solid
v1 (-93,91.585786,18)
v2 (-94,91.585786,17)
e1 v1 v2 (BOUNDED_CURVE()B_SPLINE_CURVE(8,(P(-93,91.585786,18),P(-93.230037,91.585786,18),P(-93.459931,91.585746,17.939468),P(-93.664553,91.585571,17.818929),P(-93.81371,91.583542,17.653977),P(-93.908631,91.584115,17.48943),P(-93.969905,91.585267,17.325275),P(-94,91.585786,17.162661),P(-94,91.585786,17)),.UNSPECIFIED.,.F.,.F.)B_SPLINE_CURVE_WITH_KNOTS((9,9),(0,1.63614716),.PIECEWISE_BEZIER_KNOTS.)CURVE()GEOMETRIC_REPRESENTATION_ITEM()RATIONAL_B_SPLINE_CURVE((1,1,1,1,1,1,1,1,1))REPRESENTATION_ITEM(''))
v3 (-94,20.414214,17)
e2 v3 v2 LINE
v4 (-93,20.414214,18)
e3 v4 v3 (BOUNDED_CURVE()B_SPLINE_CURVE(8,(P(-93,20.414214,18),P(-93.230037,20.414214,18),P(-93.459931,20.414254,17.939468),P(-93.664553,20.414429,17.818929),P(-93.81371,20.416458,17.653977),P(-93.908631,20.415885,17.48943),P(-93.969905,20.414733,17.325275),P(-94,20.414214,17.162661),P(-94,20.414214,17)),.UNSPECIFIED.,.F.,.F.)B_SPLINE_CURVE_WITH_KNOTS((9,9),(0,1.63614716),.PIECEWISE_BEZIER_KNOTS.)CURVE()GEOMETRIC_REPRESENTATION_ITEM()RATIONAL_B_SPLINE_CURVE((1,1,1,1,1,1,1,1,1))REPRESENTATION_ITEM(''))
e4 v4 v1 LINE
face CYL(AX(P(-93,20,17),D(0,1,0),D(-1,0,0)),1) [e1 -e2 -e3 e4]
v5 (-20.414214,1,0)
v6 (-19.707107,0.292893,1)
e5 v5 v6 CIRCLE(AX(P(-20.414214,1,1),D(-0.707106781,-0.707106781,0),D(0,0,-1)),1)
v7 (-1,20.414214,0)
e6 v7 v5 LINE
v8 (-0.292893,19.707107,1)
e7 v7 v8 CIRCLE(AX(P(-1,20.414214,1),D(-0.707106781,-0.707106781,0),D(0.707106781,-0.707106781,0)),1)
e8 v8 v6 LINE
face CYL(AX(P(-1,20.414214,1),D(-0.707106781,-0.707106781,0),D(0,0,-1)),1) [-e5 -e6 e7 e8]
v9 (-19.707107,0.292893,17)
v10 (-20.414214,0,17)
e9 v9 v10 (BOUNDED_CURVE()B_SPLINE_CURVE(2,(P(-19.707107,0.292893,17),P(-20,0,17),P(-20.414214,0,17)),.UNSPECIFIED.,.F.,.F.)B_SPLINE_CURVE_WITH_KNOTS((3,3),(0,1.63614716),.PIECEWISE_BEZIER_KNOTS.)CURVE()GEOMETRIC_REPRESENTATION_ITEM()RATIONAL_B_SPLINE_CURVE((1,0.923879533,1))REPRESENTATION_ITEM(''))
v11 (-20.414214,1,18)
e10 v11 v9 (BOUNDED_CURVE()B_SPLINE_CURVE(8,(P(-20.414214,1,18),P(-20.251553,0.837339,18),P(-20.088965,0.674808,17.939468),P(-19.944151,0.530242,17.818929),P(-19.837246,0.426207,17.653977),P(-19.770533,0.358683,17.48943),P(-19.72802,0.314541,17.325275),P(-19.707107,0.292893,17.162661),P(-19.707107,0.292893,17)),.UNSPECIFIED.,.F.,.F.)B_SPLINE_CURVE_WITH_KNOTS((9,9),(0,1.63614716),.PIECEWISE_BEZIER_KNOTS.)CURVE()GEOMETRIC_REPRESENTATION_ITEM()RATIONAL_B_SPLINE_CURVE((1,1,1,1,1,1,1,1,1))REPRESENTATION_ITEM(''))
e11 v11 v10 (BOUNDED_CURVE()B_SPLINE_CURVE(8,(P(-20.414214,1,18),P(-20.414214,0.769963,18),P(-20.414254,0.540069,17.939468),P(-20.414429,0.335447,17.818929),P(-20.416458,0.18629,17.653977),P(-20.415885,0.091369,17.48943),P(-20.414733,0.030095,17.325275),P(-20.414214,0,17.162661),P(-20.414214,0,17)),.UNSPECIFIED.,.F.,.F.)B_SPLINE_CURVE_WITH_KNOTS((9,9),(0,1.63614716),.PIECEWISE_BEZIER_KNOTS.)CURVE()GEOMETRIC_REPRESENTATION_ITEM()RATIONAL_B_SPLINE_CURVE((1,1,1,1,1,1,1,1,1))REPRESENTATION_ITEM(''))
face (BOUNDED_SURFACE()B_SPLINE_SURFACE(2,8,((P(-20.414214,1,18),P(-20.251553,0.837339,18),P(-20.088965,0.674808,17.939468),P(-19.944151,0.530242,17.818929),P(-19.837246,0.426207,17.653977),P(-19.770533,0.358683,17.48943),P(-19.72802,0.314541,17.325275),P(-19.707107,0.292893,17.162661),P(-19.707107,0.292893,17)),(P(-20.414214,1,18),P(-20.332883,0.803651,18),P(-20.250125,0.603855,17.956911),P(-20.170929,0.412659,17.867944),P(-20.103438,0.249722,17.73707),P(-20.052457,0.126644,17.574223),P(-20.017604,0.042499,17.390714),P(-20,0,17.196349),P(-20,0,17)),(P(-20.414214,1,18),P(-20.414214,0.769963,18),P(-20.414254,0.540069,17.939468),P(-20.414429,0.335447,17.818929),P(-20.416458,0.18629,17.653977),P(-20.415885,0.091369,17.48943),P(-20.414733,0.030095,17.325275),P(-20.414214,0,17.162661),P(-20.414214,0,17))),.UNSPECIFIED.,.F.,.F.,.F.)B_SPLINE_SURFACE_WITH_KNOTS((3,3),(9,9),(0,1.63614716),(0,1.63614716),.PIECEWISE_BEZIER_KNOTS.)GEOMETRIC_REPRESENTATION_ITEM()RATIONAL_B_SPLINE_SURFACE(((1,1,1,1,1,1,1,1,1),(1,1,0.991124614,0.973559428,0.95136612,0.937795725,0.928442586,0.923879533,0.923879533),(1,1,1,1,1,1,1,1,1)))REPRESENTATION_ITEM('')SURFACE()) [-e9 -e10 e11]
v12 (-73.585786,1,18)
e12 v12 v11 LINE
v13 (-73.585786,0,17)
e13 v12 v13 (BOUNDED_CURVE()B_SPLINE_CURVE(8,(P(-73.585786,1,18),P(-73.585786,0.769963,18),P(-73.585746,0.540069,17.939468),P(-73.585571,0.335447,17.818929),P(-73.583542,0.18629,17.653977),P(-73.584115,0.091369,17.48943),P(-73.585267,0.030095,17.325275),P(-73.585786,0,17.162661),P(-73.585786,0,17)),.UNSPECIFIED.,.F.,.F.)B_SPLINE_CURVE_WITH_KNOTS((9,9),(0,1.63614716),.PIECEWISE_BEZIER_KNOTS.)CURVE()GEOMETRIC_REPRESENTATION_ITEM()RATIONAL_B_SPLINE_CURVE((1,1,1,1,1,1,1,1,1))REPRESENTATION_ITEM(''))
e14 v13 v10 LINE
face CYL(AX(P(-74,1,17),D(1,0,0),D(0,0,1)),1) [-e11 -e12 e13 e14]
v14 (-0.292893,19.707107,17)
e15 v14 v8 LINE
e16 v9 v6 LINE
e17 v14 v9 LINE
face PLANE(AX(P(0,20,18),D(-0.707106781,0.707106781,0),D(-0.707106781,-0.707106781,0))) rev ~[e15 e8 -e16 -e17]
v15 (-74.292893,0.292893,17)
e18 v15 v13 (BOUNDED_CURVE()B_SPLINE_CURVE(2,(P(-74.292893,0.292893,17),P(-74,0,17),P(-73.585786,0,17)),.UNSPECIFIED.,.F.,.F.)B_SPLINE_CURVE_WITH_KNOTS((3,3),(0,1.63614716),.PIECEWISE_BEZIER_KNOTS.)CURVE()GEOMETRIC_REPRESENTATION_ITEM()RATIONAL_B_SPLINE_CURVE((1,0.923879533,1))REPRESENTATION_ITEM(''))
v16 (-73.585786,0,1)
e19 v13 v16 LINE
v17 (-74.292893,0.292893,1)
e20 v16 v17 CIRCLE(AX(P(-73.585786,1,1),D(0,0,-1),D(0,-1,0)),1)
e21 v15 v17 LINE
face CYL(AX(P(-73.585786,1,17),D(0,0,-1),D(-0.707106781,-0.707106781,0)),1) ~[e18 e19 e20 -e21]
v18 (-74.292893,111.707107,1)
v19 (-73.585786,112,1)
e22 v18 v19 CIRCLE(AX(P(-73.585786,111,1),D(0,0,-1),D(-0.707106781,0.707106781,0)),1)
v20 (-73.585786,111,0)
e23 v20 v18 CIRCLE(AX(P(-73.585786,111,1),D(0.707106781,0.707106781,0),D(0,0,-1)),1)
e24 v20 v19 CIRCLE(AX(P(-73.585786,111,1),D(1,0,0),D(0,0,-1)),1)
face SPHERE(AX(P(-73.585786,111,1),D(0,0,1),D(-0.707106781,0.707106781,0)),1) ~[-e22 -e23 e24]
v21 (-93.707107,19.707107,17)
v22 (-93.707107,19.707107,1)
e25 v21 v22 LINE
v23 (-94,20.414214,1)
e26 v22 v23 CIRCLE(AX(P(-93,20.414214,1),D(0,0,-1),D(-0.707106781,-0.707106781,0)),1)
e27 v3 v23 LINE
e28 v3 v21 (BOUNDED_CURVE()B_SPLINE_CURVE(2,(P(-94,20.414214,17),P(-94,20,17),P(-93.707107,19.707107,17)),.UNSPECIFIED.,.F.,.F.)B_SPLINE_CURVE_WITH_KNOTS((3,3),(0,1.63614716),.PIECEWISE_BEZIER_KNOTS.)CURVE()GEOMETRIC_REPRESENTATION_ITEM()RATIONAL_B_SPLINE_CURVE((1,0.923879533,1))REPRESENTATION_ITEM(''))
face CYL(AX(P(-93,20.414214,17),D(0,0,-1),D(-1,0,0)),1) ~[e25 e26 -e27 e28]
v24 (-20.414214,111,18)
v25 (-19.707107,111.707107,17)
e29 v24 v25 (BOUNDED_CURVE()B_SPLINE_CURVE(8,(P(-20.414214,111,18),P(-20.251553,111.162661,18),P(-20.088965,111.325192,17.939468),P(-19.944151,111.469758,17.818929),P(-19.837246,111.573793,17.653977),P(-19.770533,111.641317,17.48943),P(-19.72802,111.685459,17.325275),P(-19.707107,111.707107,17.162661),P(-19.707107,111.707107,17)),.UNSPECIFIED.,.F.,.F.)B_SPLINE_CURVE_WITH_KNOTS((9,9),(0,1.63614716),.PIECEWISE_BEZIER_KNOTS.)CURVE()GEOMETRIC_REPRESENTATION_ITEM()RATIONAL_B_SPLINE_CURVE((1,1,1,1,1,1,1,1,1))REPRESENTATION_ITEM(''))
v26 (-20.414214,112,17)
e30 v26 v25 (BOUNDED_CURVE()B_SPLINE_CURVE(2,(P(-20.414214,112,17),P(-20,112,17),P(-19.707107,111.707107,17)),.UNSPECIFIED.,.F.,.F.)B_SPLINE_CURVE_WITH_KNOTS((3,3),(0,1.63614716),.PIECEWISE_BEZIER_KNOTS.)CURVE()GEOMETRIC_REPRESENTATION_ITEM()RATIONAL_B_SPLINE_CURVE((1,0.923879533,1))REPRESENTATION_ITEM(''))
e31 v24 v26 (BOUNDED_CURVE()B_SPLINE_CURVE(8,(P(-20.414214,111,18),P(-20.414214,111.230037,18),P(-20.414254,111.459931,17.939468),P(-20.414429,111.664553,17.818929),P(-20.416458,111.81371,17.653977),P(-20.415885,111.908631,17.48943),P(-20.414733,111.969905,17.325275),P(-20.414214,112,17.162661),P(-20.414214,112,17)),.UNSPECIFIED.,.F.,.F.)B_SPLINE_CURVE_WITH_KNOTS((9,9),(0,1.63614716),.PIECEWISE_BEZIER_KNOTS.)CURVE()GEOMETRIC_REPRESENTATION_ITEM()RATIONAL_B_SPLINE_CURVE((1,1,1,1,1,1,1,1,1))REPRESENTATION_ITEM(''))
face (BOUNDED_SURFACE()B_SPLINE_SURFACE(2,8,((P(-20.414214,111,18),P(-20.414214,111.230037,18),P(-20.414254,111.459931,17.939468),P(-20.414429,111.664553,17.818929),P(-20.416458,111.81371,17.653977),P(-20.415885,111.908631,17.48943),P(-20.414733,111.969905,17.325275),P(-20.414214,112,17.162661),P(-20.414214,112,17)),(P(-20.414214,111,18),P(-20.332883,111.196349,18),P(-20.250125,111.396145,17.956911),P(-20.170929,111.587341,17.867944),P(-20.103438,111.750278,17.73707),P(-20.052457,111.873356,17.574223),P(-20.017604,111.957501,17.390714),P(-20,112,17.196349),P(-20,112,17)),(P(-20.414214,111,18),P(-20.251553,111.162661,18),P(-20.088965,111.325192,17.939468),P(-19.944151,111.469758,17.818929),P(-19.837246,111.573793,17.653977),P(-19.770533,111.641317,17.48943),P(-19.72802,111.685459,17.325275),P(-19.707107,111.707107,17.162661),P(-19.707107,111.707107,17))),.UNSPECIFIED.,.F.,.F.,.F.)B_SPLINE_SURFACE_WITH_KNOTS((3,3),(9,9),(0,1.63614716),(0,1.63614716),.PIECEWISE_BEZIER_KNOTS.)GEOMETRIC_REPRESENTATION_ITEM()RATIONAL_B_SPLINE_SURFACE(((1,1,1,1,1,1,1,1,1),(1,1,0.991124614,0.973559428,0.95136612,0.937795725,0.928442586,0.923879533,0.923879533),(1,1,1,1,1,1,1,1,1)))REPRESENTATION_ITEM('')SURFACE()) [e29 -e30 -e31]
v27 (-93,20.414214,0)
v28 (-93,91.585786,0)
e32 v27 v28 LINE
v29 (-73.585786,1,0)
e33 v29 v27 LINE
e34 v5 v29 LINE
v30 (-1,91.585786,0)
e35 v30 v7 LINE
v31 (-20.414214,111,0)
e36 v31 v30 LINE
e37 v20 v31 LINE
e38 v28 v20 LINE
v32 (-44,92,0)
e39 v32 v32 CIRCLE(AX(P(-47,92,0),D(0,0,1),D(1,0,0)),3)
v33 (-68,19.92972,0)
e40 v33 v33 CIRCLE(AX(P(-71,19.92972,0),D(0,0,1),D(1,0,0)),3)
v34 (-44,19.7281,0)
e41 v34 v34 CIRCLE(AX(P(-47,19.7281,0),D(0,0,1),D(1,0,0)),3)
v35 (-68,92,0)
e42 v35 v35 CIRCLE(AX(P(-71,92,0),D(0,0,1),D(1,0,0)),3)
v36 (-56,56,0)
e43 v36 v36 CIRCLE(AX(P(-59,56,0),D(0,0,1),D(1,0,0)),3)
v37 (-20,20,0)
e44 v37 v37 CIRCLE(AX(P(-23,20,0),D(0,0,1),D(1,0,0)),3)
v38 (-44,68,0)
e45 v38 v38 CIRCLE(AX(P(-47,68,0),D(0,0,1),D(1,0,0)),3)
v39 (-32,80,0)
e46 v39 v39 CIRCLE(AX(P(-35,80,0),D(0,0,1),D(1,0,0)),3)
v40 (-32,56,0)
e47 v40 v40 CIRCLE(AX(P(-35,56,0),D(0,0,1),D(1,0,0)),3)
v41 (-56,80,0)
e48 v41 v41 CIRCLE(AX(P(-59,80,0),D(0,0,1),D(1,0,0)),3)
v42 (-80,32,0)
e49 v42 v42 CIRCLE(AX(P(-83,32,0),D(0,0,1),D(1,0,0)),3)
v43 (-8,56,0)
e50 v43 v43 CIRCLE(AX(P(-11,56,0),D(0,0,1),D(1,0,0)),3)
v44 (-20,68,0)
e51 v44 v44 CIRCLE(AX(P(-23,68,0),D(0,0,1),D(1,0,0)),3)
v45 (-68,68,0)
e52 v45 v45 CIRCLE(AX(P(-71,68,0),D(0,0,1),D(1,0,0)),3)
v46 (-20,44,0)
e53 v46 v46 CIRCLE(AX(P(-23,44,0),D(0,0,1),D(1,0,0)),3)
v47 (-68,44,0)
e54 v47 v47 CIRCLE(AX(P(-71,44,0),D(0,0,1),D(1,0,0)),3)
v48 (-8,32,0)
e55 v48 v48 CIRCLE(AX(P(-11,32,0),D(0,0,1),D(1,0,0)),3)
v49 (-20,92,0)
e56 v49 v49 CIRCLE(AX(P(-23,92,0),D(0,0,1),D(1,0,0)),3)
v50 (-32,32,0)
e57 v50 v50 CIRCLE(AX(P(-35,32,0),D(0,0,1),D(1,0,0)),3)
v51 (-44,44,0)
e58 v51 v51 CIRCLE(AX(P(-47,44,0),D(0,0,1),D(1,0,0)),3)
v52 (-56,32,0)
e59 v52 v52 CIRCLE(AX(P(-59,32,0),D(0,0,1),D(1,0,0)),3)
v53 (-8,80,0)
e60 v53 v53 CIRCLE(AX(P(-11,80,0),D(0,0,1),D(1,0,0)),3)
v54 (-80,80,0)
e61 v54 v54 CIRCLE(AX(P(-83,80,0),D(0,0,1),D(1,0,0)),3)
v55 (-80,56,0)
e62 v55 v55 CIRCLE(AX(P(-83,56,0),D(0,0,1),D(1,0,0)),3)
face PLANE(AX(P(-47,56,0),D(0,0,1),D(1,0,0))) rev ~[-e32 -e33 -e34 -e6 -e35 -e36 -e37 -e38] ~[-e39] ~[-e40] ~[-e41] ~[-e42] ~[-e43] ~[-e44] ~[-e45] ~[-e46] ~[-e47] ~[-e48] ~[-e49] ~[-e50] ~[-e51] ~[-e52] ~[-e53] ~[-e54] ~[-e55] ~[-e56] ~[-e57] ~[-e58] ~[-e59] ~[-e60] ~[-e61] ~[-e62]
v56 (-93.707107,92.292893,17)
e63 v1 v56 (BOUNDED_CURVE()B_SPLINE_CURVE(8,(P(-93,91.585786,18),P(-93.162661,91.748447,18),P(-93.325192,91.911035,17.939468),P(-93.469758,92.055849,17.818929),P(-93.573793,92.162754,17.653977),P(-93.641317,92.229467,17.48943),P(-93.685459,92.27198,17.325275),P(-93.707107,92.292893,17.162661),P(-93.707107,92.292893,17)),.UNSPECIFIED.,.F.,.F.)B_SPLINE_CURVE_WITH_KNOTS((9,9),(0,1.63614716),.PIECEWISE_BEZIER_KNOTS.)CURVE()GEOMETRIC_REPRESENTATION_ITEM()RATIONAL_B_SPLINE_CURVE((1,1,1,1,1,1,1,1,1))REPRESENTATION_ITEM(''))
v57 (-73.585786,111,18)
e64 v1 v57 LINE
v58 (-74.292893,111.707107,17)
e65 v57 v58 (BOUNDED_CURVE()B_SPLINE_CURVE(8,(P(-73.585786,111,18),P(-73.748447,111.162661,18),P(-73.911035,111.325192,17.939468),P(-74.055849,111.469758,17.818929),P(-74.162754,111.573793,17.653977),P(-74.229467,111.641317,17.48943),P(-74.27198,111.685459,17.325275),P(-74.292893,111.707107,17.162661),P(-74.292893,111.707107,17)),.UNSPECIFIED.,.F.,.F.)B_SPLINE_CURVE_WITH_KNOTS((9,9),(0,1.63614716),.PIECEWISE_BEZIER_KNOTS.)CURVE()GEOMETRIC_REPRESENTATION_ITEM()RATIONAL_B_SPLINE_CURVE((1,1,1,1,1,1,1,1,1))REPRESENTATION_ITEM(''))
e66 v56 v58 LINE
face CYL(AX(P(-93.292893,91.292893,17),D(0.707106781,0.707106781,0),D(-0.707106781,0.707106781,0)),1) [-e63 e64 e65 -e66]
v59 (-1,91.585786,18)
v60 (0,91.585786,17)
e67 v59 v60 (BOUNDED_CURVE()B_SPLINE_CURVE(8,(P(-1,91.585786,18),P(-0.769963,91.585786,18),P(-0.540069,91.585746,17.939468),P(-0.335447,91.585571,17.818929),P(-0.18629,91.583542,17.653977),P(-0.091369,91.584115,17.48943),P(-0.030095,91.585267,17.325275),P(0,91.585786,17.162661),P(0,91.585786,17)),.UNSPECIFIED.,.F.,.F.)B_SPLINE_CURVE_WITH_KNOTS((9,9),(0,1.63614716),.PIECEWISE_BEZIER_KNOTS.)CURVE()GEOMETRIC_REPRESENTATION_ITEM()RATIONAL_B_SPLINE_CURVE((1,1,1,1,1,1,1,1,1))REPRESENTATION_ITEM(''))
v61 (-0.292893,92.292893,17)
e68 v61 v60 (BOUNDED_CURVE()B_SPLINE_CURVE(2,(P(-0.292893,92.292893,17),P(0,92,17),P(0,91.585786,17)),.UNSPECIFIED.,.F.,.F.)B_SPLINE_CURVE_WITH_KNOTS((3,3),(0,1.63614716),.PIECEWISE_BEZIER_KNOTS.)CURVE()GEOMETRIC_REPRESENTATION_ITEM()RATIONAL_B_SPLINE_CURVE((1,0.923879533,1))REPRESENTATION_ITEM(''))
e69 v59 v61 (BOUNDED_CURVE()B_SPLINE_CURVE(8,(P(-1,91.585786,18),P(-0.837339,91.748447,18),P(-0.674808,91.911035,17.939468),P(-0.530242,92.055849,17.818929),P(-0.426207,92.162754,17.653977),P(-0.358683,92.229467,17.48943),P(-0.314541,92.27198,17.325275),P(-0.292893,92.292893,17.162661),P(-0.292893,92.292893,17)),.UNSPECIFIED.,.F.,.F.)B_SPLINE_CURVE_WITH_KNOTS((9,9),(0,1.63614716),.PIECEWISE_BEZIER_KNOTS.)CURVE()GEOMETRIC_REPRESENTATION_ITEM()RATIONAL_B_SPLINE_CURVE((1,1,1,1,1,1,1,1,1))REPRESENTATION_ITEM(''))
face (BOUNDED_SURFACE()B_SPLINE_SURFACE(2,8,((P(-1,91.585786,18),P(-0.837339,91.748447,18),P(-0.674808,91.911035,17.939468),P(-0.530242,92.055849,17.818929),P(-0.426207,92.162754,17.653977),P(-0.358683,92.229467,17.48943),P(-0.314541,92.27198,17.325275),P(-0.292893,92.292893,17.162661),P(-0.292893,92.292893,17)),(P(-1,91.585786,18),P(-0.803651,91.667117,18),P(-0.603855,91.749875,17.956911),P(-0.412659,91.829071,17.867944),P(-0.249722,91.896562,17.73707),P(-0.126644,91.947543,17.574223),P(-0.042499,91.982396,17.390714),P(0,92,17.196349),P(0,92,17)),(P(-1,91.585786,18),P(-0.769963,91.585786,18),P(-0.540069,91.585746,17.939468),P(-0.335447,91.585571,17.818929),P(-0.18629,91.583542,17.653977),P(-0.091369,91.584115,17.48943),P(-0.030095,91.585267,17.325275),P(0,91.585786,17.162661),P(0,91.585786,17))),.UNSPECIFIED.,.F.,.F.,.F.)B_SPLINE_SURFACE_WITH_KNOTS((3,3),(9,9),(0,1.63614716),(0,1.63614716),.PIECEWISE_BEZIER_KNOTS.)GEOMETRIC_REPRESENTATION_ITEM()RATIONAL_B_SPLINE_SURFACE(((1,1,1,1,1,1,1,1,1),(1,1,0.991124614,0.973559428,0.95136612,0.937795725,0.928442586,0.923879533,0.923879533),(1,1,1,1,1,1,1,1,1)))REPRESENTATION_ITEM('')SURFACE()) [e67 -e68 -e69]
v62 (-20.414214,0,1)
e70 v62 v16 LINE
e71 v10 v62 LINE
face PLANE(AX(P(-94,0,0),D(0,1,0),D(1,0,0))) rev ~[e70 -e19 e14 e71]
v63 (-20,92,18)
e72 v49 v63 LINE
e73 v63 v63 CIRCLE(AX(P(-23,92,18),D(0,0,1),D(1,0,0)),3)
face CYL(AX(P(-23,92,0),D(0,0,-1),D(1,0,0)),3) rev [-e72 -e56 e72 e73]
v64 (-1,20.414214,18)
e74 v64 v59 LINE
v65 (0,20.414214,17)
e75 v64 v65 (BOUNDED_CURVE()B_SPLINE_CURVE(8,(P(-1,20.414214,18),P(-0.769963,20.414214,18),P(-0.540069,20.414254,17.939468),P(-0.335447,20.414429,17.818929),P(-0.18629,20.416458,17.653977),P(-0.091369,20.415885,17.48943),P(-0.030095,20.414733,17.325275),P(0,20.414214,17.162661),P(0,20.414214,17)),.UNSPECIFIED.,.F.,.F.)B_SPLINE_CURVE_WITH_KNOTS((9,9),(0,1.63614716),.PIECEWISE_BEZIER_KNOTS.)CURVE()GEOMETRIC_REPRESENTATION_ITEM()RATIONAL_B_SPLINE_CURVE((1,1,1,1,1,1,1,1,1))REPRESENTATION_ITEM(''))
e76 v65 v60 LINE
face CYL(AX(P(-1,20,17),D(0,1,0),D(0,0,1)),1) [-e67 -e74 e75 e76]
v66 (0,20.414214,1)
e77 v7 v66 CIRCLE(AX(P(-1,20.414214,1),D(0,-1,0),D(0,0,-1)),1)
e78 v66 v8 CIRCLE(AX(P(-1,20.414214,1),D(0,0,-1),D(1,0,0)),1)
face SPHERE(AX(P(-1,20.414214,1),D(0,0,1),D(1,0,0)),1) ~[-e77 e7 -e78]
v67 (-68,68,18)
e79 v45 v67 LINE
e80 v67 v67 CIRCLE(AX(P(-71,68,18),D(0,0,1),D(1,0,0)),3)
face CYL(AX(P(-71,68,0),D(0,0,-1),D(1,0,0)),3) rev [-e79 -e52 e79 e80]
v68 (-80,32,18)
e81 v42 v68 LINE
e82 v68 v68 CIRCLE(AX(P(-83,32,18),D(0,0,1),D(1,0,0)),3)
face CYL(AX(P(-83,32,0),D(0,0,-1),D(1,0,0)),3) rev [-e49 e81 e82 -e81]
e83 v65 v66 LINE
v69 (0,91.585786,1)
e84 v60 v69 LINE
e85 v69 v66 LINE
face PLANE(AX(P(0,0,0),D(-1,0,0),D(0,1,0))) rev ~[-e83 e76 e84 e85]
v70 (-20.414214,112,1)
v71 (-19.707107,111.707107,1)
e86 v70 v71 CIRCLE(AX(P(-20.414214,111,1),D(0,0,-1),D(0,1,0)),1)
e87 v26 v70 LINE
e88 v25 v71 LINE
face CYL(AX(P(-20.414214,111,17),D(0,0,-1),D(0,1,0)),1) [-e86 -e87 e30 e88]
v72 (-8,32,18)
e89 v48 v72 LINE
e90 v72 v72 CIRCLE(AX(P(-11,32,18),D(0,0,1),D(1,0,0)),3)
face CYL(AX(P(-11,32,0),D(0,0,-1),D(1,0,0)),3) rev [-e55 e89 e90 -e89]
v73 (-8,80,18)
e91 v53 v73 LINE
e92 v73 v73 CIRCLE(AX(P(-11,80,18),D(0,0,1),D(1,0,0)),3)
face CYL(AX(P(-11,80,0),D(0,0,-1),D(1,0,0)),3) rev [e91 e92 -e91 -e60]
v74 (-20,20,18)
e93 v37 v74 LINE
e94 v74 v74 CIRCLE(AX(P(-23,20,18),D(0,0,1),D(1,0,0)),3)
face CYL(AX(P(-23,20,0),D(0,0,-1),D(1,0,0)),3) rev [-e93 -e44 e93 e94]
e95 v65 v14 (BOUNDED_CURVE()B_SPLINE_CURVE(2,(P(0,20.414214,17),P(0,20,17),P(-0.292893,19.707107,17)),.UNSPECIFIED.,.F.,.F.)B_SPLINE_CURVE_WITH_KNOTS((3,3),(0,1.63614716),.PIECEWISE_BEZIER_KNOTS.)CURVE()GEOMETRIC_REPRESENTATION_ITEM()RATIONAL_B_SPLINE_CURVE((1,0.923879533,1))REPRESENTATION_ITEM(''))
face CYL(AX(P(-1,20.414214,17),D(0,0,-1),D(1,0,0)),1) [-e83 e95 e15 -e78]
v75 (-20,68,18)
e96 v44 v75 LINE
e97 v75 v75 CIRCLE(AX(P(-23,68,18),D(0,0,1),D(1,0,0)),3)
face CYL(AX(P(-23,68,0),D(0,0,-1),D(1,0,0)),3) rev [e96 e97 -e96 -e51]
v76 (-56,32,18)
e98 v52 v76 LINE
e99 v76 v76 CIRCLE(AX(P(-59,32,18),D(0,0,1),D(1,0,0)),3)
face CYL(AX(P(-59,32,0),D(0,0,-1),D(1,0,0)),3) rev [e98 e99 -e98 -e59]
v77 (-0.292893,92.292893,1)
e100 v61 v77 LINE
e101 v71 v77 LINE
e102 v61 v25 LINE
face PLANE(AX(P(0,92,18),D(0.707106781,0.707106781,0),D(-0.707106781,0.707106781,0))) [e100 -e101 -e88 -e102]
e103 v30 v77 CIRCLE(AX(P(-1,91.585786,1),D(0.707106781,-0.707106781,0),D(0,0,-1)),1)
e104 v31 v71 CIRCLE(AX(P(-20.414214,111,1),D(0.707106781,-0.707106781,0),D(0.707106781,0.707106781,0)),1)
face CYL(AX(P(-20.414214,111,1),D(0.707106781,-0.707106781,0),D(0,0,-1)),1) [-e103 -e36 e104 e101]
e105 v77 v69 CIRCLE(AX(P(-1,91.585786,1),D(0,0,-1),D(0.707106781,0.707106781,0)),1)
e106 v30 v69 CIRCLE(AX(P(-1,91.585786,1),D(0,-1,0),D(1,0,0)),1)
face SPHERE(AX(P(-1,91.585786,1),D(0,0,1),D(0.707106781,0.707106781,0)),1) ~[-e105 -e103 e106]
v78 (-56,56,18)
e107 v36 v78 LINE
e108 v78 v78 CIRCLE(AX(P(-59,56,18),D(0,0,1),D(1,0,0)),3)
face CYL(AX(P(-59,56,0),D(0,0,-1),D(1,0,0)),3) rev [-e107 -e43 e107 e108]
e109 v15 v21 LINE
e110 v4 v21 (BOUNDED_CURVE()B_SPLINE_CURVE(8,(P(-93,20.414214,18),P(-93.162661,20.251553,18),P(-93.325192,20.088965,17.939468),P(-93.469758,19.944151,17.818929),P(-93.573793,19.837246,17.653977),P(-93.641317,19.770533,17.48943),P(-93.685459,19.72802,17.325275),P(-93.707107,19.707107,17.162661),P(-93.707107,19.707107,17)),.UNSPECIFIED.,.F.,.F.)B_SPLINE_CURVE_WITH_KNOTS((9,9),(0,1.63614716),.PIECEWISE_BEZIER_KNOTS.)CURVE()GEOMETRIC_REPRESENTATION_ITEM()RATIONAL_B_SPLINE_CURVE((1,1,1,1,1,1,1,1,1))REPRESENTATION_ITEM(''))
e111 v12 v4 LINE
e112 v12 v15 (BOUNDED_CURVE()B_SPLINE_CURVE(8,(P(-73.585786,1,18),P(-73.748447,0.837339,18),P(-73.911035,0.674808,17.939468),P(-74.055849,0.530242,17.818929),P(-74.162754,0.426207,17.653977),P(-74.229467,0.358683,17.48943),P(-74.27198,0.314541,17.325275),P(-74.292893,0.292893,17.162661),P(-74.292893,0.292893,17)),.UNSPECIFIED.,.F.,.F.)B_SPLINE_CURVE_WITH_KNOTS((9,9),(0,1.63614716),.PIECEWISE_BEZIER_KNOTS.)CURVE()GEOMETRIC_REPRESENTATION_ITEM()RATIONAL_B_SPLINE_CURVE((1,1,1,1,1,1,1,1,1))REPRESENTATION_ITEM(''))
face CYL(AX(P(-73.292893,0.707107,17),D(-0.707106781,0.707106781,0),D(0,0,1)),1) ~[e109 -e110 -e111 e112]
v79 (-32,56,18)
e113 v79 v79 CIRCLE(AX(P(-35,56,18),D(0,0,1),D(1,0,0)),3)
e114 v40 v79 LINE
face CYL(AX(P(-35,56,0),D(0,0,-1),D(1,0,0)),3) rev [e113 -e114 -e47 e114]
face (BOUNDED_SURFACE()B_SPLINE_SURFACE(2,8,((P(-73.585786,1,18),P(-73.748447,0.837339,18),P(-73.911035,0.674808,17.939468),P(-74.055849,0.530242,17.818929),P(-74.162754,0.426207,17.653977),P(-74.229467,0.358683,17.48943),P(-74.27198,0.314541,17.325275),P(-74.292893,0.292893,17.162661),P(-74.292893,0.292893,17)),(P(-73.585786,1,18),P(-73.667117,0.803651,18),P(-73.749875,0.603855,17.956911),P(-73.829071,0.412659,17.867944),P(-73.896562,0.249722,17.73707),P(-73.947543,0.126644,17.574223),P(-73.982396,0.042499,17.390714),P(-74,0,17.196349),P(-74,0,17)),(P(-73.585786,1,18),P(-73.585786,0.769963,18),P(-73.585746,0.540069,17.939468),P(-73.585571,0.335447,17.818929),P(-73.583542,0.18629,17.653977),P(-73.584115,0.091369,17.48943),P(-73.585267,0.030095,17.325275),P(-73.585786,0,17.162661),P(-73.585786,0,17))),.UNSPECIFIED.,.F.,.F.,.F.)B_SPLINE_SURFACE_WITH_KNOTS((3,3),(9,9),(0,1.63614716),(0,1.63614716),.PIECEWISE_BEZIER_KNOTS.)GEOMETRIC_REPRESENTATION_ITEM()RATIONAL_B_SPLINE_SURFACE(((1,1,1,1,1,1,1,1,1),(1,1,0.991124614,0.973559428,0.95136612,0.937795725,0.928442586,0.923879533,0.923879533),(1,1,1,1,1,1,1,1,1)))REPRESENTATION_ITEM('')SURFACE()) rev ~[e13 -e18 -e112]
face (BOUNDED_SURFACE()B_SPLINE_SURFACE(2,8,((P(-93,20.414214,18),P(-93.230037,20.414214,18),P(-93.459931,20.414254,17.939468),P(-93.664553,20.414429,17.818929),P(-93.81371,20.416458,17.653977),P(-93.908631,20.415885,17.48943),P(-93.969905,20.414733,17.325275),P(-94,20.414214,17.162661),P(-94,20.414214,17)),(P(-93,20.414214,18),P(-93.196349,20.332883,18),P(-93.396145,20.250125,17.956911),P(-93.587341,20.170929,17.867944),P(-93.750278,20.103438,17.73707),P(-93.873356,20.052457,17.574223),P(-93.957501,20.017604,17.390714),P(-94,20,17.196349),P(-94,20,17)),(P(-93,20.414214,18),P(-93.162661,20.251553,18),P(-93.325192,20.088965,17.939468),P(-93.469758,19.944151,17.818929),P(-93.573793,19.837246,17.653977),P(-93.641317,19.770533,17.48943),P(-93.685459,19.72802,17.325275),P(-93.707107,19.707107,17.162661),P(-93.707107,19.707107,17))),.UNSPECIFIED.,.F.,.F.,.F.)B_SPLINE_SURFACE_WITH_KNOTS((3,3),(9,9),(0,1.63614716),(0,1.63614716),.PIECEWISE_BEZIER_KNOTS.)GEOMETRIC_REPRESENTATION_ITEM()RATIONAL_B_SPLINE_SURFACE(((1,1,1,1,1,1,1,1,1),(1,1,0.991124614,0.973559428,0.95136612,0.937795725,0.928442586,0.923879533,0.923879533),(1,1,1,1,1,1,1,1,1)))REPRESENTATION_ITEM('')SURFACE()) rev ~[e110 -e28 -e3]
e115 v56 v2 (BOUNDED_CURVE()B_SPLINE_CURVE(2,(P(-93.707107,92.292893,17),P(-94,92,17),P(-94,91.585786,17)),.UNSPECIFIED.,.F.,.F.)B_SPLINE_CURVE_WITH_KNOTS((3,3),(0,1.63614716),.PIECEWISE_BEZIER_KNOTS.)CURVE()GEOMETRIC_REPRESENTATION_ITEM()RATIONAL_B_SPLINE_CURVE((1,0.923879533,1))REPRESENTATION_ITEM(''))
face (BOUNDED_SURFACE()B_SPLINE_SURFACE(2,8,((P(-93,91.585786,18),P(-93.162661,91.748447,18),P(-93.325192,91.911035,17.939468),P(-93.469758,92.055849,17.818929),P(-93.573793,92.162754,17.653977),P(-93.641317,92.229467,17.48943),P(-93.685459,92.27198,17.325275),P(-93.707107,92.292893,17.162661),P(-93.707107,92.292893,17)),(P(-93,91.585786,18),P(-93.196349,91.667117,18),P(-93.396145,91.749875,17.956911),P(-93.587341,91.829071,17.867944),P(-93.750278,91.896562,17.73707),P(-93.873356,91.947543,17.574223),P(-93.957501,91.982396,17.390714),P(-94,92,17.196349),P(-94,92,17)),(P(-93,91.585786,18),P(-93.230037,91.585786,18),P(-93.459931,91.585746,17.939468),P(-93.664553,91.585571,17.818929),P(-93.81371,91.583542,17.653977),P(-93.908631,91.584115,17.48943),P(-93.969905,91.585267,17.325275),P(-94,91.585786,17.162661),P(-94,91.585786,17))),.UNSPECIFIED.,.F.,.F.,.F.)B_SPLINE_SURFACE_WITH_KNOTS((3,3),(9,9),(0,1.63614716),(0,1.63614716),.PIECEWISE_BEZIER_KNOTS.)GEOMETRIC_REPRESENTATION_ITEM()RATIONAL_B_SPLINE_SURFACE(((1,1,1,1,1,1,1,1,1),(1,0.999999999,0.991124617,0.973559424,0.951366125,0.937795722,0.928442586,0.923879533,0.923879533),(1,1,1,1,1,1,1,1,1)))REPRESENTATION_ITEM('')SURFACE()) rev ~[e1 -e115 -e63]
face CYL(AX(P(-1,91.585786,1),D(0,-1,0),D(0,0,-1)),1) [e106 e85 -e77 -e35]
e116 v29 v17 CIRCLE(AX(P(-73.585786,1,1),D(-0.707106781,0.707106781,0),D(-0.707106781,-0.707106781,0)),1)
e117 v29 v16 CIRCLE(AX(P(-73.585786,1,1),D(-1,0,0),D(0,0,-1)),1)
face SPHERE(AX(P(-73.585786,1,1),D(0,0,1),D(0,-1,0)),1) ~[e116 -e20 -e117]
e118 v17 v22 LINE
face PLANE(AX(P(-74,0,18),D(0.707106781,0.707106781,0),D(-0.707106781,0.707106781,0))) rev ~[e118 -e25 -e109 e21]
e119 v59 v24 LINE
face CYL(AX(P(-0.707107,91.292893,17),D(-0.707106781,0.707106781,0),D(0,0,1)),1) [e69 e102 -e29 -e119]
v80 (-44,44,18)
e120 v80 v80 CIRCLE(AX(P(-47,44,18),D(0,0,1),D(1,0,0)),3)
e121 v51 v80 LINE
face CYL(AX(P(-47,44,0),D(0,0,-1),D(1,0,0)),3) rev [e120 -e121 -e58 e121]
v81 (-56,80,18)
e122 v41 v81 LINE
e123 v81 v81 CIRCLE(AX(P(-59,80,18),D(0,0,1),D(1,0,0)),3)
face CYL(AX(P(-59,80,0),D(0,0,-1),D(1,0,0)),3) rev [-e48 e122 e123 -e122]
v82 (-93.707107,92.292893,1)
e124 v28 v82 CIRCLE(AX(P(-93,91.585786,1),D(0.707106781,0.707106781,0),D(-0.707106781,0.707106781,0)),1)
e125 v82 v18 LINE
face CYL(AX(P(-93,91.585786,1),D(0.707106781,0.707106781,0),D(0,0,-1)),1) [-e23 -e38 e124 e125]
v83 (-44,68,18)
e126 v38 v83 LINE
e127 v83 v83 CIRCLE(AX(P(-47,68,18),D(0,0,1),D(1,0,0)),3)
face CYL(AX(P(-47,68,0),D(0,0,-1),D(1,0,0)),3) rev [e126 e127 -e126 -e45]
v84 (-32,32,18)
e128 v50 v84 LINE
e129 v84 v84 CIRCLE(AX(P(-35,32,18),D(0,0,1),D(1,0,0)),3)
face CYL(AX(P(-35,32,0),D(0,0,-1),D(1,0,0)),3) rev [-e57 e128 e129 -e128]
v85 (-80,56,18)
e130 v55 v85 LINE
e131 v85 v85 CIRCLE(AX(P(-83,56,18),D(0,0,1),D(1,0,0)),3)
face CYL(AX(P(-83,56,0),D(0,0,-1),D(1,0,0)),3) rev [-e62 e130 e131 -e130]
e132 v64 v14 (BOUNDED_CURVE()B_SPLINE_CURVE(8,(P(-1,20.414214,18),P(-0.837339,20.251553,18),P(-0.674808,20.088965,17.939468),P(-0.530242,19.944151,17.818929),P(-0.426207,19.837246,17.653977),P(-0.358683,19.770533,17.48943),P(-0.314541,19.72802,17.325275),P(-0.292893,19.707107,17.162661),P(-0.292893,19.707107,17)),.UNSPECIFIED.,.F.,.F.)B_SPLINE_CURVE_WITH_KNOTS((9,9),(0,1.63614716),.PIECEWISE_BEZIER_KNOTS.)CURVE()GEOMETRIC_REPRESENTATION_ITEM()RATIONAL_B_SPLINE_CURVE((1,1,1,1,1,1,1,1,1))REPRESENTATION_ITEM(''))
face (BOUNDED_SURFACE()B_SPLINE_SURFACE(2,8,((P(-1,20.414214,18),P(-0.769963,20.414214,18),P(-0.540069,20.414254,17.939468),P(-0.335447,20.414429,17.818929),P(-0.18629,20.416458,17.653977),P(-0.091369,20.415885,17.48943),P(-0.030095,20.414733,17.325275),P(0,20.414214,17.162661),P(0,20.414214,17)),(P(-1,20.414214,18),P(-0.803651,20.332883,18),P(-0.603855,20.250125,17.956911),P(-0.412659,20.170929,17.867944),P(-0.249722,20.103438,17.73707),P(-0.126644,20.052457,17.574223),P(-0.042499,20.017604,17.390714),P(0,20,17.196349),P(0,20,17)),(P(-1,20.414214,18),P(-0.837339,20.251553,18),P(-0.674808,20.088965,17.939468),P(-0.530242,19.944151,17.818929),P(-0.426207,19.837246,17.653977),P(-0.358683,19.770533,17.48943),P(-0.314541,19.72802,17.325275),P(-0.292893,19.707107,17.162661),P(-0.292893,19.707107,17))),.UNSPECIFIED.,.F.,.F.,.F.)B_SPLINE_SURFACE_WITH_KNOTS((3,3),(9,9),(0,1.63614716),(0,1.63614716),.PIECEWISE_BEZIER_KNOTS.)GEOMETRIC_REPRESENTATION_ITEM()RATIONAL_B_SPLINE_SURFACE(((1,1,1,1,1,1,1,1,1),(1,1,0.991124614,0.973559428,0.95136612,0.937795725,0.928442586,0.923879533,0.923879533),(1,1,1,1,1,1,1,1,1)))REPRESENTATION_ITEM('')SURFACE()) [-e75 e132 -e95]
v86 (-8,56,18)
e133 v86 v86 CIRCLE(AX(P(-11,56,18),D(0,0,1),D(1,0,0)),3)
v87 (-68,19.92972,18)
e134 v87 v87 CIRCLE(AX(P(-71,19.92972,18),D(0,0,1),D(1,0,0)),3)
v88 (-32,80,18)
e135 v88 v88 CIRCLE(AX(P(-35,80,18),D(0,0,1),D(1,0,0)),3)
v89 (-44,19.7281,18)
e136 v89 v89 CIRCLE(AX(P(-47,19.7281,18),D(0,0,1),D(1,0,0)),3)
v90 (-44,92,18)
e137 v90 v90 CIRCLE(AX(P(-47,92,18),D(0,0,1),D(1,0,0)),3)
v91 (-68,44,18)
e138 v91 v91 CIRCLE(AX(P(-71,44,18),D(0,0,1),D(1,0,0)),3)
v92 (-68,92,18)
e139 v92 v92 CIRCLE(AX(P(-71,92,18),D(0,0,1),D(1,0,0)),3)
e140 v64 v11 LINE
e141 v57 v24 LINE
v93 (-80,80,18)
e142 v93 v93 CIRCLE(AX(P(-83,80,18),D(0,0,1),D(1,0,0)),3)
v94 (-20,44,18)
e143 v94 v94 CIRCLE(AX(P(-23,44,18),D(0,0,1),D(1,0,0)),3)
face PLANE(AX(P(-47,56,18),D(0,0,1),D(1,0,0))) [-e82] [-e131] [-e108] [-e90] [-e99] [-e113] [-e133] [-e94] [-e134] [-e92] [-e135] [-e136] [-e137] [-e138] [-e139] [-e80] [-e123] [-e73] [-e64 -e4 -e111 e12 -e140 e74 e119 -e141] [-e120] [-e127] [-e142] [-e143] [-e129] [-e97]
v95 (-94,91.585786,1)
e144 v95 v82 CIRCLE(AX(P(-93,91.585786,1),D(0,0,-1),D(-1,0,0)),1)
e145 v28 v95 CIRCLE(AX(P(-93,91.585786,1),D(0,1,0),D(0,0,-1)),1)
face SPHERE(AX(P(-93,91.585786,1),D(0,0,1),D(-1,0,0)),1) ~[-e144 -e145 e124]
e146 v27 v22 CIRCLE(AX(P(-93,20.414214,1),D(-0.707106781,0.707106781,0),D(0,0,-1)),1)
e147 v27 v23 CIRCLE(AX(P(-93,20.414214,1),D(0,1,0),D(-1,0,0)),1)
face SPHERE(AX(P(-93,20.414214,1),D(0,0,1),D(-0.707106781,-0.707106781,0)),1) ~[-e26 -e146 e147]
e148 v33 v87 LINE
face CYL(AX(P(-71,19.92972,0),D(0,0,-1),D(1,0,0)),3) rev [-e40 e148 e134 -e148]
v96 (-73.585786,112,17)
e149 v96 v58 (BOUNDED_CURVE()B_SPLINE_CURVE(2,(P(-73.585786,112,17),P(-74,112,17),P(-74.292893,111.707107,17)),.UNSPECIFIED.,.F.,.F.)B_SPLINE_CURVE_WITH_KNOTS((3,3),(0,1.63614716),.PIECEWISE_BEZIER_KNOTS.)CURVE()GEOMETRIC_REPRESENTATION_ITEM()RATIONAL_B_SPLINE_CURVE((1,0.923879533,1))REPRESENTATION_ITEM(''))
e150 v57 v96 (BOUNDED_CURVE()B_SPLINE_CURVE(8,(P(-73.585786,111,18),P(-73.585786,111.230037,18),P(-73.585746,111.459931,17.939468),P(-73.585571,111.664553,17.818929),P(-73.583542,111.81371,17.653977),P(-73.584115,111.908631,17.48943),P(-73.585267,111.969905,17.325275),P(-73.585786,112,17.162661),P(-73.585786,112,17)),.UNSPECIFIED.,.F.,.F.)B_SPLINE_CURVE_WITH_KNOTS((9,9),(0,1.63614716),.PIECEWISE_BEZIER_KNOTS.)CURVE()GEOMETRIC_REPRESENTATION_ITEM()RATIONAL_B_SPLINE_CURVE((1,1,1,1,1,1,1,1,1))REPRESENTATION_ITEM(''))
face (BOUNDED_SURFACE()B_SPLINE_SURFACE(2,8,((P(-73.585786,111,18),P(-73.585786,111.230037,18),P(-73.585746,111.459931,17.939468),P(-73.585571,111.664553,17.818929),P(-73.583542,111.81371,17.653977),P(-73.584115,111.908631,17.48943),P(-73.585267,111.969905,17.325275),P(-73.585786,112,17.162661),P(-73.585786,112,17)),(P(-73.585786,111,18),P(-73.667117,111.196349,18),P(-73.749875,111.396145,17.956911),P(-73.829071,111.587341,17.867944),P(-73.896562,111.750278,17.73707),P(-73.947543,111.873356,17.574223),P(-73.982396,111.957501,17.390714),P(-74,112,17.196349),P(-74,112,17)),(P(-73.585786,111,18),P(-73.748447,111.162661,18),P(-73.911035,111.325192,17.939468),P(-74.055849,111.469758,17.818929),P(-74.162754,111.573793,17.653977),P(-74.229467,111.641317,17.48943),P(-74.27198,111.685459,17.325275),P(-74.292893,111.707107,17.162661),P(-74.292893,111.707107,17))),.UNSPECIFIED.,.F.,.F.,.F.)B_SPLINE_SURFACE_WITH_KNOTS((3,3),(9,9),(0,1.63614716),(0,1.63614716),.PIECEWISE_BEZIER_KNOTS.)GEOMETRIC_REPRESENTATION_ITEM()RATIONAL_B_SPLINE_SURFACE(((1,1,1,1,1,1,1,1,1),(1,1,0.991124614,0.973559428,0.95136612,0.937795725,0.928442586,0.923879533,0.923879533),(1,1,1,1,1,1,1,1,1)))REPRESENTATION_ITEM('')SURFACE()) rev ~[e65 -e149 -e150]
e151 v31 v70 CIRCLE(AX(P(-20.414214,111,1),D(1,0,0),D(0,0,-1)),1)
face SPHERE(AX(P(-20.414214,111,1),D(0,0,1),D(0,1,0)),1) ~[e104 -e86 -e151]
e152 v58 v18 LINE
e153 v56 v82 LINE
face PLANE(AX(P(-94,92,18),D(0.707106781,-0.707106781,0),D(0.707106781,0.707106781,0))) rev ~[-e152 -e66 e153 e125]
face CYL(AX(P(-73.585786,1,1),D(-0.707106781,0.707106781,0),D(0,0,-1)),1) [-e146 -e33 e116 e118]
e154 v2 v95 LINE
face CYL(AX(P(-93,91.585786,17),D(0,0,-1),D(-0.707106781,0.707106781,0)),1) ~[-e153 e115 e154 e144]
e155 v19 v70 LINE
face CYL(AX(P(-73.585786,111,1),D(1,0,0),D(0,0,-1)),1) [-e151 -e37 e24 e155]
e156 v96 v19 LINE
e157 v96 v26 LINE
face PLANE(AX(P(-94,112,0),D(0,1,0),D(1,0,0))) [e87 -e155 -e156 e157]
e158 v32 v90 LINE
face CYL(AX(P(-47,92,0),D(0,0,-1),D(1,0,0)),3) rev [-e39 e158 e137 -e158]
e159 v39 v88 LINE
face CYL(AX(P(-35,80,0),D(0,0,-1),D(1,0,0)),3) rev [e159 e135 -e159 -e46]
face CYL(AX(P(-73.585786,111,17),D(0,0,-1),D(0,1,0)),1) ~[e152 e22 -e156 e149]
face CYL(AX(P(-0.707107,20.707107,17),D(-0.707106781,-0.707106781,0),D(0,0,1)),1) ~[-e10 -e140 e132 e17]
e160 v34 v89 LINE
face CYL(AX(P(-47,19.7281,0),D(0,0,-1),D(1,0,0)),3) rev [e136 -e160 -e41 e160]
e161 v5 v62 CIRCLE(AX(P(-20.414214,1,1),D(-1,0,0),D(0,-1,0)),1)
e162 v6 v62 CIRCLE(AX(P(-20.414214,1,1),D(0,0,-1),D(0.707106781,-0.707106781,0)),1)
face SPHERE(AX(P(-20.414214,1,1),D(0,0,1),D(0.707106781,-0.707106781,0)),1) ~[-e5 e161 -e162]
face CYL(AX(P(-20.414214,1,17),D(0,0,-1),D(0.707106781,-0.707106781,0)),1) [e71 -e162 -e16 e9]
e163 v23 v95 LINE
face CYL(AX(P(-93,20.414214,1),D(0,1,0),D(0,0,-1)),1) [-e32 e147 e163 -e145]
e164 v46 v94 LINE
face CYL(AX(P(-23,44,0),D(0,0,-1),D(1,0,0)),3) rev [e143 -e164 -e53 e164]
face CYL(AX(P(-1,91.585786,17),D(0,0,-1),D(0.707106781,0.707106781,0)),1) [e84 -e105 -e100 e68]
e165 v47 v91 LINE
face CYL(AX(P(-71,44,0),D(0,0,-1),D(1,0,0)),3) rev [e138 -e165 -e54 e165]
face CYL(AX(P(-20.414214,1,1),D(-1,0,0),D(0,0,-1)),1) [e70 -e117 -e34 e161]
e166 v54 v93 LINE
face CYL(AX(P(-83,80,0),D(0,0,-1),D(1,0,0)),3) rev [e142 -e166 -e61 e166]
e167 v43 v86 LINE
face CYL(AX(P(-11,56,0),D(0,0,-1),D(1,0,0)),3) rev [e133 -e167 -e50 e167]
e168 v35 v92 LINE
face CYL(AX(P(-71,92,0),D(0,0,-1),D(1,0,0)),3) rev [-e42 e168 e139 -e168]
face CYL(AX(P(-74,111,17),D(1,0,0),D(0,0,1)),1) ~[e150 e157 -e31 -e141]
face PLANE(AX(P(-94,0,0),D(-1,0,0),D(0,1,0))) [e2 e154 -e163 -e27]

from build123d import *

# Parameters (mm, degrees)
SKETCH_W     = 94
SKETCH_H     = 112
SKETCH_R     = 3
PAD_DEPTH    = 18
POCKET_DEPTH = 18.001
FILLET_R     = 1
FILLET001_R  = 1
FILLET002_R  = 1
FILLET003_R  = 1


with BuildPart() as part:
    # Sketch → Pad (new body)
    with BuildSketch(Plane.XY):
        with Locations((-47, 56)):
            Rectangle(SKETCH_W, SKETCH_H)
        with Locations((-47, 19.7281)):
            Circle(SKETCH_R, mode=Mode.SUBTRACT)
        with Locations((-23, 68)):
            Circle(SKETCH_R, mode=Mode.SUBTRACT)
        with Locations((-23, 44)):
            Circle(SKETCH_R, mode=Mode.SUBTRACT)
        with Locations((-23, 20)):
            Circle(SKETCH_R, mode=Mode.SUBTRACT)
        with Locations((-23, 92)):
            Circle(SKETCH_R, mode=Mode.SUBTRACT)
        with Locations((-47, 44)):
            Circle(SKETCH_R, mode=Mode.SUBTRACT)
        with Locations((-47, 68)):
            Circle(SKETCH_R, mode=Mode.SUBTRACT)
        with Locations((-47, 92)):
            Circle(SKETCH_R, mode=Mode.SUBTRACT)
        with Locations((-71, 92)):
            Circle(SKETCH_R, mode=Mode.SUBTRACT)
        with Locations((-71, 68)):
            Circle(SKETCH_R, mode=Mode.SUBTRACT)
        with Locations((-59, 32)):
            Circle(SKETCH_R, mode=Mode.SUBTRACT)
        with Locations((-71, 19.92972)):
            Circle(SKETCH_R, mode=Mode.SUBTRACT)
        with Locations((-71, 44)):
            Circle(SKETCH_R, mode=Mode.SUBTRACT)
        with Locations((-59, 56)):
            Circle(SKETCH_R, mode=Mode.SUBTRACT)
        with Locations((-35, 56)):
            Circle(SKETCH_R, mode=Mode.SUBTRACT)
        with Locations((-35, 32)):
            Circle(SKETCH_R, mode=Mode.SUBTRACT)
        with Locations((-35, 80)):
            Circle(SKETCH_R, mode=Mode.SUBTRACT)
        with Locations((-59, 80)):
            Circle(SKETCH_R, mode=Mode.SUBTRACT)
        with Locations((-83, 32)):
            Circle(SKETCH_R, mode=Mode.SUBTRACT)
        with Locations((-83, 56)):
            Circle(SKETCH_R, mode=Mode.SUBTRACT)
        with Locations((-83, 80)):
            Circle(SKETCH_R, mode=Mode.SUBTRACT)
        with Locations((-11, 80)):
            Circle(SKETCH_R, mode=Mode.SUBTRACT)
        with Locations((-11, 56)):
            Circle(SKETCH_R, mode=Mode.SUBTRACT)
        with Locations((-11, 32)):
            Circle(SKETCH_R, mode=Mode.SUBTRACT)
    extrude(amount=PAD_DEPTH)

    # Sketch001 (on Face30 of Pad) → Pocket (cut, through all)
    with BuildSketch(Plane.XY.offset(18)):
        Polygon((0, 0), (0, 20), (-20, 0), align=None)
        Polygon((0, 112), (0, 92), (-20, 112), align=None)
        Polygon((-74, 112), (-94, 112), (-94, 92), align=None)
        Polygon((-94, 20), (-94, 0), (-74, 0), align=None)
    extrude(amount=-POCKET_DEPTH, mode=Mode.SUBTRACT)

    # Fillet
    fillet_edges = [part.edges().sort_by_distance(p)[0] for p in [
        (-84, 102, 18),
        (-47, 112, 18),
        (-10, 102, 18),
        (0, 56, 18),
        (-10, 10, 18),
        (-47, 0, 18),
        (-84, 10, 18),
        (-94, 56, 18),
    ]]
    fillet(fillet_edges, radius=FILLET_R)

    # Fillet001
    fillet001_edges = [part.edges().sort_by_distance(p)[0] for p in [
        (0, 20, 8.5),
        (-20, 0, 8.5),
        (0, 92, 8.5),
        (-20, 112, 8.5),
    ]]
    fillet(fillet001_edges, radius=FILLET001_R)

    # Fillet002
    fillet002_edges = [part.edges().sort_by_distance(p)[0] for p in [
        (-74, 112, 8.5),
        (-94, 92, 8.5),
        (-94, 20, 8.5),
        (-74, 0, 8.5),
    ]]
    fillet(fillet002_edges, radius=FILLET002_R)

    # Fillet003
    fillet003_edges = [part.edges().sort_by_distance(p)[0] for p in [
        (-47, 112, 0),
        (-84, 102, 0),
        (-94, 56, 0),
        (-84, 10, 0),
        (-47, 0, 0),
        (-10, 10, 0),
        (0, 56, 0),
        (-10, 102, 0),
    ]]
    fillet(fillet003_edges, radius=FILLET003_R)


solid = part.part
